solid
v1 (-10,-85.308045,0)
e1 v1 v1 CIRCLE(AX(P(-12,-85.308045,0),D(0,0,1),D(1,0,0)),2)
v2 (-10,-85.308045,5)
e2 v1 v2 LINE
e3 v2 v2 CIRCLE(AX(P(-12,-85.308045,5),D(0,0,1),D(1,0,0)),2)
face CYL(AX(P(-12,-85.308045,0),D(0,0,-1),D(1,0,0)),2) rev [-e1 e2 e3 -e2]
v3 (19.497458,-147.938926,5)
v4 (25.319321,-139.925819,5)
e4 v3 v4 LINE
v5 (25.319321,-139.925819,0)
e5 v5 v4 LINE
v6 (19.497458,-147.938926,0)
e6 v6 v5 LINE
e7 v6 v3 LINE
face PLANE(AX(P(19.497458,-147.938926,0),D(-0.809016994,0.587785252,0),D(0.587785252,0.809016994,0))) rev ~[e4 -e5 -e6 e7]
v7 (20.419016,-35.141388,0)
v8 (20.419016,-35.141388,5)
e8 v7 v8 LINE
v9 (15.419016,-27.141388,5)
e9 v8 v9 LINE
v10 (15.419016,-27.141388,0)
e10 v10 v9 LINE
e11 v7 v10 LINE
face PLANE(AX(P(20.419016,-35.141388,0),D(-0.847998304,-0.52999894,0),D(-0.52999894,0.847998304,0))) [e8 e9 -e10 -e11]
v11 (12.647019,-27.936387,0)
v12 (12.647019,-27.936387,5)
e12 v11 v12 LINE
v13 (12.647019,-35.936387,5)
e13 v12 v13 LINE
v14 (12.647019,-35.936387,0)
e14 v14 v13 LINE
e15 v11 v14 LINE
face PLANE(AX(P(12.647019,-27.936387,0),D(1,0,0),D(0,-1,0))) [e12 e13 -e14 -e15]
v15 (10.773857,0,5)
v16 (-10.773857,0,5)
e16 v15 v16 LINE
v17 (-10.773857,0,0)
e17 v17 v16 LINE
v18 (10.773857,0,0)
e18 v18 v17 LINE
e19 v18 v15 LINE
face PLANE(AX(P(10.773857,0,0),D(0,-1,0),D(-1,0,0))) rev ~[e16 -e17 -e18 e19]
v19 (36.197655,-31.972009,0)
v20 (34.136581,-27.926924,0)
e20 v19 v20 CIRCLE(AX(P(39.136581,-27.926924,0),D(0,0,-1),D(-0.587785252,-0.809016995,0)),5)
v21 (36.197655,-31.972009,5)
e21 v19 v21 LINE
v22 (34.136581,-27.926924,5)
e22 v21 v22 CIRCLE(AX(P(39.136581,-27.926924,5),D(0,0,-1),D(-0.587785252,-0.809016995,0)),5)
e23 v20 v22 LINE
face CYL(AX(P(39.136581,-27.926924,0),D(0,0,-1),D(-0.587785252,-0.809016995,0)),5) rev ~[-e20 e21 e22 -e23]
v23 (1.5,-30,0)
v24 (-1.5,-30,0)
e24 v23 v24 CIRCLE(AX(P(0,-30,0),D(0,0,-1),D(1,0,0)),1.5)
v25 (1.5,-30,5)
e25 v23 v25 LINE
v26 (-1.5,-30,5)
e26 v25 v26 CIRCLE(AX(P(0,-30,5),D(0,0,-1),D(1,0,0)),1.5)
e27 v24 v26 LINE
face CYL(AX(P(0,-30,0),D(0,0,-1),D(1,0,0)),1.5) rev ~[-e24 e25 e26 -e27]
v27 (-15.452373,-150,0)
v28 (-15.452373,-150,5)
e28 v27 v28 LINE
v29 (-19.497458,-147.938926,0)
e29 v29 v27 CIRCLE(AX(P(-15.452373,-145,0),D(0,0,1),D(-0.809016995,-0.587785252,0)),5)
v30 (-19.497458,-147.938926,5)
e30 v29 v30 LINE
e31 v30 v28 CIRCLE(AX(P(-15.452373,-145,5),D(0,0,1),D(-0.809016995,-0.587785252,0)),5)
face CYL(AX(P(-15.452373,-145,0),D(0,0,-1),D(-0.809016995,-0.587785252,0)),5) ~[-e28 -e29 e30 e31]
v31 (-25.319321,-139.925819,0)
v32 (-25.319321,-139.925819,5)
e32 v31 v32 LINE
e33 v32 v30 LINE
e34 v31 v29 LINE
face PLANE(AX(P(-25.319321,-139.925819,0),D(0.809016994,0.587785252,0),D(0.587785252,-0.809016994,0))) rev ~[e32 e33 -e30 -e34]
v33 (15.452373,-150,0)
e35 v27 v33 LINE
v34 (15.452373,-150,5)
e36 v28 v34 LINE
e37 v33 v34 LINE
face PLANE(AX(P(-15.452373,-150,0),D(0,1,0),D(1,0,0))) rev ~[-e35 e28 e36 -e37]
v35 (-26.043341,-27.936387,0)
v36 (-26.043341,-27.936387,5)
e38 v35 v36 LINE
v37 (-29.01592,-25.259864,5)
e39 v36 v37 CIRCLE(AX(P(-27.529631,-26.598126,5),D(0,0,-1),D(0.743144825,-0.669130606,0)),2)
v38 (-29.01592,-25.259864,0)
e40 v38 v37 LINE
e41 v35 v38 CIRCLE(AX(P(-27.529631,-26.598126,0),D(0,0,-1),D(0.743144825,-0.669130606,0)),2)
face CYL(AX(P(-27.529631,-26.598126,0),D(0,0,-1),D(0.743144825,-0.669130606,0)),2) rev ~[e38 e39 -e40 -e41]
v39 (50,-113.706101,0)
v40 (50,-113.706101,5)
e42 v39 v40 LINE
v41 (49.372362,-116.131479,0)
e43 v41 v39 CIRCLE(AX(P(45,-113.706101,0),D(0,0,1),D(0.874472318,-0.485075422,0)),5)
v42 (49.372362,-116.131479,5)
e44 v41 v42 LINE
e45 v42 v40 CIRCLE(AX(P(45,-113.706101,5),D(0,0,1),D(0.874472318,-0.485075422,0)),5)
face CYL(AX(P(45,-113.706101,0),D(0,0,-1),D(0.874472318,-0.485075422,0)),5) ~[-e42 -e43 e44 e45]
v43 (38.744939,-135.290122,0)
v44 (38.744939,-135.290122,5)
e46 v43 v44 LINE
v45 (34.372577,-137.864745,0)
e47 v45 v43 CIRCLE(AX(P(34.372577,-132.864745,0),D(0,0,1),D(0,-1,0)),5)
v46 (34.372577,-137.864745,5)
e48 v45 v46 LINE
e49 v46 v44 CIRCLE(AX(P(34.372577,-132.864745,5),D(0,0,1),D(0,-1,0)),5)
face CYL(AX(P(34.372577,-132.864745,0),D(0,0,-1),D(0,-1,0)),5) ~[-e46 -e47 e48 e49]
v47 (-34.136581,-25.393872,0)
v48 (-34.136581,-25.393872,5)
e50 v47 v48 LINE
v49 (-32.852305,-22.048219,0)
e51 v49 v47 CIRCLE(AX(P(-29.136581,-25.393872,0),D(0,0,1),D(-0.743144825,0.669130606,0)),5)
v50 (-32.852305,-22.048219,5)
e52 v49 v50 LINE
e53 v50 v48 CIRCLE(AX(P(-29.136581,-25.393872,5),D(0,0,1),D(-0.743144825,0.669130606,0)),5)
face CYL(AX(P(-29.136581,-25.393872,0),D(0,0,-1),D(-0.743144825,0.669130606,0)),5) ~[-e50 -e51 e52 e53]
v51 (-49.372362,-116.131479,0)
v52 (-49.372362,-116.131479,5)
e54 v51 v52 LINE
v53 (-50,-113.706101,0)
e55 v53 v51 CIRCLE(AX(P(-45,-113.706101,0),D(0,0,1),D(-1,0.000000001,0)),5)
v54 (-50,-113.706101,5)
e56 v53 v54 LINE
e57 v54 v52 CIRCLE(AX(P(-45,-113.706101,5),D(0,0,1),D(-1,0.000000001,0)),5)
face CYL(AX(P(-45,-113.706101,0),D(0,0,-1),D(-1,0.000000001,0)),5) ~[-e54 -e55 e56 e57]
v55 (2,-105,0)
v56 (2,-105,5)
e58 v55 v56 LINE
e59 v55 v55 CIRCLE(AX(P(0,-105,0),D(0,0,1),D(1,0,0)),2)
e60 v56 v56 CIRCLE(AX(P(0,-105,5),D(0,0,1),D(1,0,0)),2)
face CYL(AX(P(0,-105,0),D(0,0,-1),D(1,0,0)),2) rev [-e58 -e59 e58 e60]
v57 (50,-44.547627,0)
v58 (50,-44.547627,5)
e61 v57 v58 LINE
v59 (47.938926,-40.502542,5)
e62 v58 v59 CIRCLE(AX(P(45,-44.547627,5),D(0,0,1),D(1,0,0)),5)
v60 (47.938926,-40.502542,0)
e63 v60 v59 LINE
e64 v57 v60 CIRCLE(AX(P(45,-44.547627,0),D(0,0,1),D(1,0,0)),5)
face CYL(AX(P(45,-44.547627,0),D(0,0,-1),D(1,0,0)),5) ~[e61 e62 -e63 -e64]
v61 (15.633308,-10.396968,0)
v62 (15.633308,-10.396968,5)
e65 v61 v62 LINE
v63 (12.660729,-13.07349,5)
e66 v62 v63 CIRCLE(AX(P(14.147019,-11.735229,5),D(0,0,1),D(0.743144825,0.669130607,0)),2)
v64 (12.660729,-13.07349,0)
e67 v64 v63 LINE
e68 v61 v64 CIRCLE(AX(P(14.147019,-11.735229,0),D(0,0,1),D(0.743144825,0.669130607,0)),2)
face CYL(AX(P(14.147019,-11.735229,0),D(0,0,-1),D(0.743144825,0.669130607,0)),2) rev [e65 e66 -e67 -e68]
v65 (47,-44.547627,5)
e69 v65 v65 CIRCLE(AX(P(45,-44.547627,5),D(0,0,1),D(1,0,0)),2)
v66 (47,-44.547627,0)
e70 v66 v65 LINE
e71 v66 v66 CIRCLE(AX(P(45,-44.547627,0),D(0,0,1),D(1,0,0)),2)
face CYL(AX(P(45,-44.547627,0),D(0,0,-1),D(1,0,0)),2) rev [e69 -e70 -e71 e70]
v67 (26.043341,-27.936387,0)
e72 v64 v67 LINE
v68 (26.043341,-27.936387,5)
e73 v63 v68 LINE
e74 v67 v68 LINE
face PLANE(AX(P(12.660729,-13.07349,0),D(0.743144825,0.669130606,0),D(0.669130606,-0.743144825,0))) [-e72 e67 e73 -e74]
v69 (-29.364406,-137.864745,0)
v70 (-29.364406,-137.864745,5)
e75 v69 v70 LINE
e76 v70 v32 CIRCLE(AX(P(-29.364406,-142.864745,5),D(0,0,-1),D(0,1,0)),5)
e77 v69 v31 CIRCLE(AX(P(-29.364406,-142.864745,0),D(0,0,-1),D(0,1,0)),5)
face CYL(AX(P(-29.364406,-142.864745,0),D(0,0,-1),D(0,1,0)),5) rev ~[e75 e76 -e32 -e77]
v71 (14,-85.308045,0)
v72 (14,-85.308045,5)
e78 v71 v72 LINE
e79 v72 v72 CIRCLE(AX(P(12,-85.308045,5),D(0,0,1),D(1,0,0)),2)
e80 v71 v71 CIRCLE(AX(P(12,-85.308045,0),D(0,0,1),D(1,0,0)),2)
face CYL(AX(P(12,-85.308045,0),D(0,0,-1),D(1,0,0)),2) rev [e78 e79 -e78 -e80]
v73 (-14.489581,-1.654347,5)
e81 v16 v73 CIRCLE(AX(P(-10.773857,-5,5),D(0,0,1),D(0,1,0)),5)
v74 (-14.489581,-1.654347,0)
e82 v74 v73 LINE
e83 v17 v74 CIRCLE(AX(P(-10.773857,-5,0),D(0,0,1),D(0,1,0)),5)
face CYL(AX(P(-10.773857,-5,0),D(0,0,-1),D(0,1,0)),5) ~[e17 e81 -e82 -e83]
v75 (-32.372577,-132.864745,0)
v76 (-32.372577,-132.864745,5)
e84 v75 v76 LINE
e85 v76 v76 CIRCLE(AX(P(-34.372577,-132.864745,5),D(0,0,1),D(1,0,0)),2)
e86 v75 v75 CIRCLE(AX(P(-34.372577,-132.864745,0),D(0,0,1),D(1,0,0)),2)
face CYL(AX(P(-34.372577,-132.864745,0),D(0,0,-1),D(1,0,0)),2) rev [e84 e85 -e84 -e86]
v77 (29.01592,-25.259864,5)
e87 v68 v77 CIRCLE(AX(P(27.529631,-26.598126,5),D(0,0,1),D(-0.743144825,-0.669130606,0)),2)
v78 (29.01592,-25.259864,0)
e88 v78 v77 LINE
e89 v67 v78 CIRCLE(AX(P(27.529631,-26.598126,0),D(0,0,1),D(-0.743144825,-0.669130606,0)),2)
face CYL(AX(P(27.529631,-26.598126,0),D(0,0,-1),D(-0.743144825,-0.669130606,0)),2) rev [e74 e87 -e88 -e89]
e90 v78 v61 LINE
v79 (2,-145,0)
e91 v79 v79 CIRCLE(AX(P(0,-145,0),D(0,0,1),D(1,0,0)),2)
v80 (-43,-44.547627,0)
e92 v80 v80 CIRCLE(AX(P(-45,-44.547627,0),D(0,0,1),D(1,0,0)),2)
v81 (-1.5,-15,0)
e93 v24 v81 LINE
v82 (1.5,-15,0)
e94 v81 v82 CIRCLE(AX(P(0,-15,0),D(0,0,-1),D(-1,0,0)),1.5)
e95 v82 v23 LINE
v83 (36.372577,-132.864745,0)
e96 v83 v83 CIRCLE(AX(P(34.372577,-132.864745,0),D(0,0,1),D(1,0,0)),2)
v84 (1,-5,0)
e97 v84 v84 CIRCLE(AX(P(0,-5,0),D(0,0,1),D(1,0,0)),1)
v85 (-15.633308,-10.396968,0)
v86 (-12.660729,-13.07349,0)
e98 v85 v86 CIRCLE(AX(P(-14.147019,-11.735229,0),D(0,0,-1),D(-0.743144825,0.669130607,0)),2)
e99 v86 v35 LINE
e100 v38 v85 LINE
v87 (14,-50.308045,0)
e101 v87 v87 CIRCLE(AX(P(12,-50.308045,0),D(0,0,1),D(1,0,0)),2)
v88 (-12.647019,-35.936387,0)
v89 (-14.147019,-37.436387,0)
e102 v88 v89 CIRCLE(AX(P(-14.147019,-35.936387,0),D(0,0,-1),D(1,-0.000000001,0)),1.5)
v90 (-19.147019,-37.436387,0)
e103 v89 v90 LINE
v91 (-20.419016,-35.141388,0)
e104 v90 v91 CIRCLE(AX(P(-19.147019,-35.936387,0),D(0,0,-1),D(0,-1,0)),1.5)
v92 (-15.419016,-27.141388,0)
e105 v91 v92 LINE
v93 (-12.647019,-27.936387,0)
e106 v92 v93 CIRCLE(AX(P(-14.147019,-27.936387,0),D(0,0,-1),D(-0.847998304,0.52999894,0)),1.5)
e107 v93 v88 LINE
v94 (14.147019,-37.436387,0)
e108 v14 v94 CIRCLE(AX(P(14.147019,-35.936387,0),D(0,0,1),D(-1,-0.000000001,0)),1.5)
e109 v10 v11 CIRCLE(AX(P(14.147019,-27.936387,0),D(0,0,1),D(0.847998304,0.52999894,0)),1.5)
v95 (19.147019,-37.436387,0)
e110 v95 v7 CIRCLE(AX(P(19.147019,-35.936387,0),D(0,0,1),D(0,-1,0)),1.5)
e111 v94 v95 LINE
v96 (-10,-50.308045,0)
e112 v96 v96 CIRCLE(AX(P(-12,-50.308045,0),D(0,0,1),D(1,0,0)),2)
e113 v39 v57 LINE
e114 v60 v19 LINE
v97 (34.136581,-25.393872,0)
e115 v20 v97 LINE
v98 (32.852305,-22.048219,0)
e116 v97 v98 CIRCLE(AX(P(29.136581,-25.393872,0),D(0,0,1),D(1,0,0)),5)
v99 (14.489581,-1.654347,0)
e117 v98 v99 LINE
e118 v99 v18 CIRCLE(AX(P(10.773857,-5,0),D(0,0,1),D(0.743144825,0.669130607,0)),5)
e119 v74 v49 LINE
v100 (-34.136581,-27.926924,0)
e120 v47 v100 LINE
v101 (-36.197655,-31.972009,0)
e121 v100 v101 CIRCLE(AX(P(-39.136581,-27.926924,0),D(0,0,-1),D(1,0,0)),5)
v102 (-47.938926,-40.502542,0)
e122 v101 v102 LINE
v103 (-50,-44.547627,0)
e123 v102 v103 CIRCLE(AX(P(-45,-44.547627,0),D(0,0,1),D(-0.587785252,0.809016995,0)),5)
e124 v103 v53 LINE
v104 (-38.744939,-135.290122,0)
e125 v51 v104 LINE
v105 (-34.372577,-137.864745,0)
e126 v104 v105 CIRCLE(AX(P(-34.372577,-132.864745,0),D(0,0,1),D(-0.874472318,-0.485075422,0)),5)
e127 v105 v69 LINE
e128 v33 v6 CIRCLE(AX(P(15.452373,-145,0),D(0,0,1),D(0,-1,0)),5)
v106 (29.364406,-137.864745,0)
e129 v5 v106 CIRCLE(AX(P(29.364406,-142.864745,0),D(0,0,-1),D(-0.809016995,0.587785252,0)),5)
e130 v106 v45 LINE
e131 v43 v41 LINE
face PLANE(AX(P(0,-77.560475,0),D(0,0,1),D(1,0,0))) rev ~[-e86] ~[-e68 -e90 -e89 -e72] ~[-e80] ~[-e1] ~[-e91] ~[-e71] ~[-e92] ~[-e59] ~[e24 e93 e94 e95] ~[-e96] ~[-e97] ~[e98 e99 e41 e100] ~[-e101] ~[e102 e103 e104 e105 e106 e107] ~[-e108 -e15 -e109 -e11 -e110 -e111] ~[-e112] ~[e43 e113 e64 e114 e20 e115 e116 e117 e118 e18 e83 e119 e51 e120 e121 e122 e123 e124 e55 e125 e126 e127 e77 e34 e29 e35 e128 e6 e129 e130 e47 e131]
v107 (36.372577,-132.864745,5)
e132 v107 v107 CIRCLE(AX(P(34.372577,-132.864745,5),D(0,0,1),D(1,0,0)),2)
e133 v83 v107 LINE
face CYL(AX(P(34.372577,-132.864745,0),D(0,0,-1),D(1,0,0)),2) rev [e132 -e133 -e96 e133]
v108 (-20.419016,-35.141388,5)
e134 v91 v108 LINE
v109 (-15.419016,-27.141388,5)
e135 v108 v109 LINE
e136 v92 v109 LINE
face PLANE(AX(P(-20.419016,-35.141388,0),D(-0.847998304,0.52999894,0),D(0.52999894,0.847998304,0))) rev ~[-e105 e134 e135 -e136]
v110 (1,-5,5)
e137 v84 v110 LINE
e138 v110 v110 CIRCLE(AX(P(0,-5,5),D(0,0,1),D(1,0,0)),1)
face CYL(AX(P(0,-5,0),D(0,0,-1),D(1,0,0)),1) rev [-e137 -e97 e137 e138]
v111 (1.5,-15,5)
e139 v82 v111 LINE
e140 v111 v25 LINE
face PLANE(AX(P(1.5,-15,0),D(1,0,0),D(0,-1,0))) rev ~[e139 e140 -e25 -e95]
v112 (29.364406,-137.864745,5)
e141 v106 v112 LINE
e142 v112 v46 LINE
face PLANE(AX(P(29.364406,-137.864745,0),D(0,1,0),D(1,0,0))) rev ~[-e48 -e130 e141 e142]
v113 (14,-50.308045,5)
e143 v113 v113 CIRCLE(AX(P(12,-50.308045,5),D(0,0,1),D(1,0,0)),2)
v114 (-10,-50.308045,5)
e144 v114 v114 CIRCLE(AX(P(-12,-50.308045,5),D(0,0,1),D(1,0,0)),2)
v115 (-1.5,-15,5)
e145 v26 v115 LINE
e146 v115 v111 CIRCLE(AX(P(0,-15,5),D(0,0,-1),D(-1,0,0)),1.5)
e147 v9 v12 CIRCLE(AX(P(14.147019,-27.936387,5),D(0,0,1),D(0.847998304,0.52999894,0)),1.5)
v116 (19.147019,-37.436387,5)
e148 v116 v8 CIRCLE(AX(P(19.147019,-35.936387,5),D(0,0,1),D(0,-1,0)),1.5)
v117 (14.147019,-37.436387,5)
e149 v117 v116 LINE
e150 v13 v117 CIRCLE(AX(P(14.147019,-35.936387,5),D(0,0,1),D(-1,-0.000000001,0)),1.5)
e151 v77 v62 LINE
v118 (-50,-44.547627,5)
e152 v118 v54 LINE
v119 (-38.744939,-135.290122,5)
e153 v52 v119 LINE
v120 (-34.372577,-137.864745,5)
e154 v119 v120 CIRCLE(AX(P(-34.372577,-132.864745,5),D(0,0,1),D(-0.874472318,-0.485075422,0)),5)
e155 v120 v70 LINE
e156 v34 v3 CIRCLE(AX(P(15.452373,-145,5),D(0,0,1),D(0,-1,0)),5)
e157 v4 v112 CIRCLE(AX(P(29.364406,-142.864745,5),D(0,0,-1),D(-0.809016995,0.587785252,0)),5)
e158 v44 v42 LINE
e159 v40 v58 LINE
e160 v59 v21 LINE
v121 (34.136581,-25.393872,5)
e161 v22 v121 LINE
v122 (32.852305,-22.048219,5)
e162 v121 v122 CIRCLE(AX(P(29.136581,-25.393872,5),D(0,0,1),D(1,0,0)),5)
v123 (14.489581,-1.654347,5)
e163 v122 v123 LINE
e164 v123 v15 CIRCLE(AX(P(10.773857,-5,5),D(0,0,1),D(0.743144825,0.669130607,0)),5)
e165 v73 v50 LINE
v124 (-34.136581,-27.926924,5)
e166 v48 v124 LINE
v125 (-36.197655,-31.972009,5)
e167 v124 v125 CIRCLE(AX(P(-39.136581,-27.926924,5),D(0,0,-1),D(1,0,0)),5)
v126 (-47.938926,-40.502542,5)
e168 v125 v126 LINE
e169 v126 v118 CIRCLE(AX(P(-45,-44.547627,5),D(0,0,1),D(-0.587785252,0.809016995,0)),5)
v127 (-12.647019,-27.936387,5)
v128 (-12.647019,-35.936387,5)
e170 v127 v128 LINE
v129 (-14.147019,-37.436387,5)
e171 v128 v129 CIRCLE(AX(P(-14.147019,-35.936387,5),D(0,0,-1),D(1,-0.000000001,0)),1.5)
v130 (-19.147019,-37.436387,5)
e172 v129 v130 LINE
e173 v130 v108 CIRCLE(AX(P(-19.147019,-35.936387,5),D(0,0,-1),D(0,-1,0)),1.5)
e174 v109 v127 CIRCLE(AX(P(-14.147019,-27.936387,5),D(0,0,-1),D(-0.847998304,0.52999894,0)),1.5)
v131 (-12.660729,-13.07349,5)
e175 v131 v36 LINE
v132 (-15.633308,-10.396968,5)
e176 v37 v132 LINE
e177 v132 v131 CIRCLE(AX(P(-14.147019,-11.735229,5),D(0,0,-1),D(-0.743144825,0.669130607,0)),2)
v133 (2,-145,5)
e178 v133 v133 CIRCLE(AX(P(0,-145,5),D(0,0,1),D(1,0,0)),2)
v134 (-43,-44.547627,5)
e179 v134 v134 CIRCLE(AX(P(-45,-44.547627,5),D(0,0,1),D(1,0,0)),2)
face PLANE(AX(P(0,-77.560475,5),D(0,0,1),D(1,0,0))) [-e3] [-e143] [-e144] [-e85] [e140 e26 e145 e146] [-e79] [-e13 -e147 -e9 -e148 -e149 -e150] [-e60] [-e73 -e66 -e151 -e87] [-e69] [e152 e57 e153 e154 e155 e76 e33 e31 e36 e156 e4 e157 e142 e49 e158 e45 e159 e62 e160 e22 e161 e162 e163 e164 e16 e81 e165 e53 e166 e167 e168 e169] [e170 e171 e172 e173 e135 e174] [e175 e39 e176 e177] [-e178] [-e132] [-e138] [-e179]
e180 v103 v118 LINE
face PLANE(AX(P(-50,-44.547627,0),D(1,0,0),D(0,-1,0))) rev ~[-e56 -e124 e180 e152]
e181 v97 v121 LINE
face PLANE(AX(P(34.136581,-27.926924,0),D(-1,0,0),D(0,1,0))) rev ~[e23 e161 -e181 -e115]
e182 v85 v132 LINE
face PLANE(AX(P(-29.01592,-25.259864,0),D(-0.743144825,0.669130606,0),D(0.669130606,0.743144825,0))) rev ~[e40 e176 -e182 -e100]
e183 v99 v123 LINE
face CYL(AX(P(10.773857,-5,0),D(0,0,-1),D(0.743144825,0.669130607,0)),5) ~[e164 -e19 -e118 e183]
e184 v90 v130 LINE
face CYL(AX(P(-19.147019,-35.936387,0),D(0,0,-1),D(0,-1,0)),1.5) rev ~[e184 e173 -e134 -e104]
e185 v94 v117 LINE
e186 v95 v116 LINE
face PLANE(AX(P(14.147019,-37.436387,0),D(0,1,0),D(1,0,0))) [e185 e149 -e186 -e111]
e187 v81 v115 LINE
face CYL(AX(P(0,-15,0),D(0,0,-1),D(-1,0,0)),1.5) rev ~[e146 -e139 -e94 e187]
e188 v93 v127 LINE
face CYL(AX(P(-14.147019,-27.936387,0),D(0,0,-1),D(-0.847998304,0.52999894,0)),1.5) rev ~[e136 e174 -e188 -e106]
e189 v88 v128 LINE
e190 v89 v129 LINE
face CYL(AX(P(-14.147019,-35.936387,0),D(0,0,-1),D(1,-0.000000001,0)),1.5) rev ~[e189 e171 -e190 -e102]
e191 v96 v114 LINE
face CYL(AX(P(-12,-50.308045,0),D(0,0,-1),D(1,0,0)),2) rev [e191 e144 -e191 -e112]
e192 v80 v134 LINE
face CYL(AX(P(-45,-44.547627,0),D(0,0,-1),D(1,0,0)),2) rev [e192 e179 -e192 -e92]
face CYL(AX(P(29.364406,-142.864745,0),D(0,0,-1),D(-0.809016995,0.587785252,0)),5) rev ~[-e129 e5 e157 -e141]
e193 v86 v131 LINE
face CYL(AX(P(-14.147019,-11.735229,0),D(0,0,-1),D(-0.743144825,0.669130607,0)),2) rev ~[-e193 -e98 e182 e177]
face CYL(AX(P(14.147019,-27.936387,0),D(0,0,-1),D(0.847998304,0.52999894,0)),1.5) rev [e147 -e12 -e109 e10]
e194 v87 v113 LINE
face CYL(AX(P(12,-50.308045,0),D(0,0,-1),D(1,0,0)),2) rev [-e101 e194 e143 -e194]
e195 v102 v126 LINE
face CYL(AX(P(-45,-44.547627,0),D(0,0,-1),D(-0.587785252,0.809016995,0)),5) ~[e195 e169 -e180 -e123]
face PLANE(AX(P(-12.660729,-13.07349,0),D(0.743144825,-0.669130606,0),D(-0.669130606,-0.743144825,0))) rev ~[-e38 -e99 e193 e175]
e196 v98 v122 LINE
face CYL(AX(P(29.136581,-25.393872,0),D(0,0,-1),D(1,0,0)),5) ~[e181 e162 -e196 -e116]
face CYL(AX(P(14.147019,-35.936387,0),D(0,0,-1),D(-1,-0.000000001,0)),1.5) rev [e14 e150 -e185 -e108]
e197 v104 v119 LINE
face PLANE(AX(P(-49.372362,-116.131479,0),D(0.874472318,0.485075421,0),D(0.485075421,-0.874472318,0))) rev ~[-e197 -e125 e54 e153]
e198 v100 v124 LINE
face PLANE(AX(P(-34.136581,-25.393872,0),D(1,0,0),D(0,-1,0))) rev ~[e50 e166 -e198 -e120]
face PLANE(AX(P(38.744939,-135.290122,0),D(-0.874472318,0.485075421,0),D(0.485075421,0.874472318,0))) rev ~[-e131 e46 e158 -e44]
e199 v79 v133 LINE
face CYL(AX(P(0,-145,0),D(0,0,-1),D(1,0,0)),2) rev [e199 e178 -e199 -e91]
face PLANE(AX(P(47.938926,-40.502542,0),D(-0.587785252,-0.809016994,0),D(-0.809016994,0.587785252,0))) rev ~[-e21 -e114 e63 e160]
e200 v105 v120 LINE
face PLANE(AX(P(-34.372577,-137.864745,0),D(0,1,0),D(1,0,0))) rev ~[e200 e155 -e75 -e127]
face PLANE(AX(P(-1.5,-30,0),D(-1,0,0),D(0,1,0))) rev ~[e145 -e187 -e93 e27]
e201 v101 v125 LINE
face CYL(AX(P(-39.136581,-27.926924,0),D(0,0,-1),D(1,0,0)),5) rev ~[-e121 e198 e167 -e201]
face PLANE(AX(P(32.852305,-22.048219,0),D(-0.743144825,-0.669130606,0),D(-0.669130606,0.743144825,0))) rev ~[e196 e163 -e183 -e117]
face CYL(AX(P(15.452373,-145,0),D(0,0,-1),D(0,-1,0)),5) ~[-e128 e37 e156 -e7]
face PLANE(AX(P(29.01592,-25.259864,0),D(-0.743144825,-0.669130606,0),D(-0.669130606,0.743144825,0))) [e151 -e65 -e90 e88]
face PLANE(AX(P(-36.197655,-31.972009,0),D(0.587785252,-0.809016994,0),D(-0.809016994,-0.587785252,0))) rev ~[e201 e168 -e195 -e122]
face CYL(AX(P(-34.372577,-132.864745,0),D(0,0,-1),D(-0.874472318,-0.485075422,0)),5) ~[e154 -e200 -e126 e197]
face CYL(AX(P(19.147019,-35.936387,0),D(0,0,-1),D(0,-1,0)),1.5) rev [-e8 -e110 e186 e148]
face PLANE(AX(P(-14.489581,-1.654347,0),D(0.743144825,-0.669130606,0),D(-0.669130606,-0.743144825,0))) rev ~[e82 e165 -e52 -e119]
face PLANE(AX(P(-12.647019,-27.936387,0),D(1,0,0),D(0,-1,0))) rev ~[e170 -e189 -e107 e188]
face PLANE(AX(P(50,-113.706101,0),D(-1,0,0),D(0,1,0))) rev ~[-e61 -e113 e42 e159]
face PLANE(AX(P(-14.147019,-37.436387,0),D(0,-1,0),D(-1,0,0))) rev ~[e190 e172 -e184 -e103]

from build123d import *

# Parameters (mm, degrees)
SKETCH2_R           = 1
SKETCH2_R_2         = 2
BOSS_EXTRUDE1_DEPTH = 5


with BuildPart() as part:
    # Sketch2 → Boss-Extrude1 (new body)
    with BuildSketch(Plane.XY):
        with BuildLine():
            Line((10.773856573, 0), (-10.773856573, 0))
            ThreePointArc((-10.773856573, 0), (-12.807539789, -0.432272712), (-14.489580701, -1.654346968))
            Line((-14.489580701, -1.654346968), (-32.85230533, -22.048218747))
            ThreePointArc((-32.85230533, -22.048218747), (-33.804483335, -23.602032031), (-34.136581202, -25.393871779))
            Line((-34.136581202, -25.393871779), (-34.136581202, -27.926924356))
            ThreePointArc((-34.136581202, -27.926924356), (-34.681548581, -30.196876855), (-36.197654941, -31.972009328))
            Line((-36.197654941, -31.972009328), (-47.938926261, -40.502542276))
            ThreePointArc((-47.938926261, -40.502542276), (-49.455032621, -42.277674749), (-50, -44.547627247))
            Line((-50, -44.547627247), (-50, -113.7061014))
            ThreePointArc((-50, -113.7061014), (-49.840547901, -114.95873703), (-49.372361591, -116.131478508))
            Line((-49.372361591, -116.131478508), (-38.744938669, -135.290122192))
            ThreePointArc((-38.744938669, -135.290122192), (-36.909614174, -137.173276478), (-34.372577077, -137.864745084))
            Line((-34.372577077, -137.864745084), (-29.364406032, -137.864745084))
            ThreePointArc((-29.364406032, -137.864745084), (-27.094453533, -138.409712463), (-25.31932106, -139.925818823))
            Line((-25.31932106, -139.925818823), (-19.497457724, -147.938926261))
            ThreePointArc((-19.497457724, -147.938926261), (-17.722325251, -149.455032621), (-15.452372753, -150))
            Line((-15.452372753, -150), (15.452372753, -150))
            ThreePointArc((15.452372753, -150), (17.722325251, -149.455032621), (19.497457724, -147.938926261))
            Line((19.497457724, -147.938926261), (25.31932106, -139.925818823))
            ThreePointArc((25.31932106, -139.925818823), (27.094453533, -138.409712463), (29.364406032, -137.864745084))
            Line((29.364406032, -137.864745084), (34.372577077, -137.864745084))
            ThreePointArc((34.372577077, -137.864745084), (36.909614174, -137.173276478), (38.744938669, -135.290122192))
            Line((38.744938669, -135.290122192), (49.372361591, -116.131478508))
            ThreePointArc((49.372361591, -116.131478508), (49.840547901, -114.95873703), (50, -113.7061014))
            Line((50, -113.7061014), (50, -44.547627247))
            ThreePointArc((50, -44.547627247), (49.455032621, -42.277674749), (47.938926261, -40.502542276))
            Line((47.938926261, -40.502542276), (36.197654941, -31.972009328))
            ThreePointArc((36.197654941, -31.972009328), (34.681548581, -30.196876855), (34.136581202, -27.926924356))
            Line((34.136581202, -27.926924356), (34.136581202, -25.393871779))
            ThreePointArc((34.136581202, -25.393871779), (33.804483335, -23.602032031), (32.85230533, -22.048218747))
            Line((32.85230533, -22.048218747), (14.489580701, -1.654346968))
            ThreePointArc((14.489580701, -1.654346968), (12.807539789, -0.432272712), (10.773856573, 0))
        make_face()
        with Locations((0, -5)):
            Circle(SKETCH2_R, mode=Mode.SUBTRACT)
        with Locations((0, -145)):
            Circle(SKETCH2_R_2, mode=Mode.SUBTRACT)
        with Locations((0, -105)):
            Circle(SKETCH2_R_2, mode=Mode.SUBTRACT)
        with Locations((-12, -50.308044585)):
            Circle(SKETCH2_R_2, mode=Mode.SUBTRACT)
        with Locations((12, -50.308044585)):
            Circle(SKETCH2_R_2, mode=Mode.SUBTRACT)
        with Locations((12, -85.308044585)):
            Circle(SKETCH2_R_2, mode=Mode.SUBTRACT)
        with Locations((-12, -85.308044585)):
            Circle(SKETCH2_R_2, mode=Mode.SUBTRACT)
        with Locations((-34.372577077, -132.864745084)):
            Circle(SKETCH2_R_2, mode=Mode.SUBTRACT)
        with Locations((34.372577077, -132.864745084)):
            Circle(SKETCH2_R_2, mode=Mode.SUBTRACT)
        with Locations((-45, -44.547627247)):
            Circle(SKETCH2_R_2, mode=Mode.SUBTRACT)
        with Locations((45, -44.547627247)):
            Circle(SKETCH2_R_2, mode=Mode.SUBTRACT)
        with BuildLine():
            Line((-12.660728973, -13.073490301), (-26.043341101, -27.93638681))
            ThreePointArc((-26.043341101, -27.93638681), (-28.867891964, -28.084415248), (-29.015920402, -25.259864385))
            Line((-29.015920402, -25.259864385), (-15.633308275, -10.396967875))
            ThreePointArc((-15.633308275, -10.396967875), (-12.808757412, -10.248939437), (-12.660728973, -13.073490301))
        make_face(mode=Mode.SUBTRACT)
        with BuildLine():
            Line((14.147018624, -37.43638681), (19.147018624, -37.43638681))
            ThreePointArc((19.147018624, -37.43638681), (20.458982346, -36.663539609), (20.41901608, -35.1413884))
            Line((20.41901608, -35.1413884), (15.41901608, -27.1413884))
            ThreePointArc((15.41901608, -27.1413884), (13.733494855, -26.494513691), (12.647018624, -27.93638681))
            Line((12.647018624, -27.93638681), (12.647018624, -35.93638681))
            ThreePointArc((12.647018624, -35.93638681), (13.086358453, -36.997046982), (14.147018624, -37.43638681))
        make_face(mode=Mode.SUBTRACT)
        with BuildLine():
            Line((-14.147018624, -37.43638681), (-19.147018624, -37.43638681))
            ThreePointArc((-19.147018624, -37.43638681), (-20.458982346, -36.663539609), (-20.41901608, -35.1413884))
            Line((-20.41901608, -35.1413884), (-15.41901608, -27.1413884))
            ThreePointArc((-15.41901608, -27.1413884), (-13.733494855, -26.494513691), (-12.647018624, -27.93638681))
            Line((-12.647018624, -27.93638681), (-12.647018624, -35.93638681))
            ThreePointArc((-12.647018624, -35.93638681), (-13.086358453, -36.997046982), (-14.147018624, -37.43638681))
        make_face(mode=Mode.SUBTRACT)
        with BuildLine():
            Line((12.660728973, -13.073490301), (26.043341101, -27.93638681))
            ThreePointArc((26.043341101, -27.93638681), (28.867891964, -28.084415248), (29.015920402, -25.259864385))
            Line((29.015920402, -25.259864385), (15.633308275, -10.396967875))
            ThreePointArc((15.633308275, -10.396967875), (12.808757412, -10.248939437), (12.660728973, -13.073490301))
        make_face(mode=Mode.SUBTRACT)
        with BuildLine():
            Line((1.5, -15), (1.5, -30))
            ThreePointArc((1.5, -30), (0, -31.5), (-1.5, -30))
            Line((-1.5, -30), (-1.5, -15))
            ThreePointArc((-1.5, -15), (0, -13.5), (1.5, -15))
        make_face(mode=Mode.SUBTRACT)
    extrude(amount=BOSS_EXTRUDE1_DEPTH)


solid = part.part
